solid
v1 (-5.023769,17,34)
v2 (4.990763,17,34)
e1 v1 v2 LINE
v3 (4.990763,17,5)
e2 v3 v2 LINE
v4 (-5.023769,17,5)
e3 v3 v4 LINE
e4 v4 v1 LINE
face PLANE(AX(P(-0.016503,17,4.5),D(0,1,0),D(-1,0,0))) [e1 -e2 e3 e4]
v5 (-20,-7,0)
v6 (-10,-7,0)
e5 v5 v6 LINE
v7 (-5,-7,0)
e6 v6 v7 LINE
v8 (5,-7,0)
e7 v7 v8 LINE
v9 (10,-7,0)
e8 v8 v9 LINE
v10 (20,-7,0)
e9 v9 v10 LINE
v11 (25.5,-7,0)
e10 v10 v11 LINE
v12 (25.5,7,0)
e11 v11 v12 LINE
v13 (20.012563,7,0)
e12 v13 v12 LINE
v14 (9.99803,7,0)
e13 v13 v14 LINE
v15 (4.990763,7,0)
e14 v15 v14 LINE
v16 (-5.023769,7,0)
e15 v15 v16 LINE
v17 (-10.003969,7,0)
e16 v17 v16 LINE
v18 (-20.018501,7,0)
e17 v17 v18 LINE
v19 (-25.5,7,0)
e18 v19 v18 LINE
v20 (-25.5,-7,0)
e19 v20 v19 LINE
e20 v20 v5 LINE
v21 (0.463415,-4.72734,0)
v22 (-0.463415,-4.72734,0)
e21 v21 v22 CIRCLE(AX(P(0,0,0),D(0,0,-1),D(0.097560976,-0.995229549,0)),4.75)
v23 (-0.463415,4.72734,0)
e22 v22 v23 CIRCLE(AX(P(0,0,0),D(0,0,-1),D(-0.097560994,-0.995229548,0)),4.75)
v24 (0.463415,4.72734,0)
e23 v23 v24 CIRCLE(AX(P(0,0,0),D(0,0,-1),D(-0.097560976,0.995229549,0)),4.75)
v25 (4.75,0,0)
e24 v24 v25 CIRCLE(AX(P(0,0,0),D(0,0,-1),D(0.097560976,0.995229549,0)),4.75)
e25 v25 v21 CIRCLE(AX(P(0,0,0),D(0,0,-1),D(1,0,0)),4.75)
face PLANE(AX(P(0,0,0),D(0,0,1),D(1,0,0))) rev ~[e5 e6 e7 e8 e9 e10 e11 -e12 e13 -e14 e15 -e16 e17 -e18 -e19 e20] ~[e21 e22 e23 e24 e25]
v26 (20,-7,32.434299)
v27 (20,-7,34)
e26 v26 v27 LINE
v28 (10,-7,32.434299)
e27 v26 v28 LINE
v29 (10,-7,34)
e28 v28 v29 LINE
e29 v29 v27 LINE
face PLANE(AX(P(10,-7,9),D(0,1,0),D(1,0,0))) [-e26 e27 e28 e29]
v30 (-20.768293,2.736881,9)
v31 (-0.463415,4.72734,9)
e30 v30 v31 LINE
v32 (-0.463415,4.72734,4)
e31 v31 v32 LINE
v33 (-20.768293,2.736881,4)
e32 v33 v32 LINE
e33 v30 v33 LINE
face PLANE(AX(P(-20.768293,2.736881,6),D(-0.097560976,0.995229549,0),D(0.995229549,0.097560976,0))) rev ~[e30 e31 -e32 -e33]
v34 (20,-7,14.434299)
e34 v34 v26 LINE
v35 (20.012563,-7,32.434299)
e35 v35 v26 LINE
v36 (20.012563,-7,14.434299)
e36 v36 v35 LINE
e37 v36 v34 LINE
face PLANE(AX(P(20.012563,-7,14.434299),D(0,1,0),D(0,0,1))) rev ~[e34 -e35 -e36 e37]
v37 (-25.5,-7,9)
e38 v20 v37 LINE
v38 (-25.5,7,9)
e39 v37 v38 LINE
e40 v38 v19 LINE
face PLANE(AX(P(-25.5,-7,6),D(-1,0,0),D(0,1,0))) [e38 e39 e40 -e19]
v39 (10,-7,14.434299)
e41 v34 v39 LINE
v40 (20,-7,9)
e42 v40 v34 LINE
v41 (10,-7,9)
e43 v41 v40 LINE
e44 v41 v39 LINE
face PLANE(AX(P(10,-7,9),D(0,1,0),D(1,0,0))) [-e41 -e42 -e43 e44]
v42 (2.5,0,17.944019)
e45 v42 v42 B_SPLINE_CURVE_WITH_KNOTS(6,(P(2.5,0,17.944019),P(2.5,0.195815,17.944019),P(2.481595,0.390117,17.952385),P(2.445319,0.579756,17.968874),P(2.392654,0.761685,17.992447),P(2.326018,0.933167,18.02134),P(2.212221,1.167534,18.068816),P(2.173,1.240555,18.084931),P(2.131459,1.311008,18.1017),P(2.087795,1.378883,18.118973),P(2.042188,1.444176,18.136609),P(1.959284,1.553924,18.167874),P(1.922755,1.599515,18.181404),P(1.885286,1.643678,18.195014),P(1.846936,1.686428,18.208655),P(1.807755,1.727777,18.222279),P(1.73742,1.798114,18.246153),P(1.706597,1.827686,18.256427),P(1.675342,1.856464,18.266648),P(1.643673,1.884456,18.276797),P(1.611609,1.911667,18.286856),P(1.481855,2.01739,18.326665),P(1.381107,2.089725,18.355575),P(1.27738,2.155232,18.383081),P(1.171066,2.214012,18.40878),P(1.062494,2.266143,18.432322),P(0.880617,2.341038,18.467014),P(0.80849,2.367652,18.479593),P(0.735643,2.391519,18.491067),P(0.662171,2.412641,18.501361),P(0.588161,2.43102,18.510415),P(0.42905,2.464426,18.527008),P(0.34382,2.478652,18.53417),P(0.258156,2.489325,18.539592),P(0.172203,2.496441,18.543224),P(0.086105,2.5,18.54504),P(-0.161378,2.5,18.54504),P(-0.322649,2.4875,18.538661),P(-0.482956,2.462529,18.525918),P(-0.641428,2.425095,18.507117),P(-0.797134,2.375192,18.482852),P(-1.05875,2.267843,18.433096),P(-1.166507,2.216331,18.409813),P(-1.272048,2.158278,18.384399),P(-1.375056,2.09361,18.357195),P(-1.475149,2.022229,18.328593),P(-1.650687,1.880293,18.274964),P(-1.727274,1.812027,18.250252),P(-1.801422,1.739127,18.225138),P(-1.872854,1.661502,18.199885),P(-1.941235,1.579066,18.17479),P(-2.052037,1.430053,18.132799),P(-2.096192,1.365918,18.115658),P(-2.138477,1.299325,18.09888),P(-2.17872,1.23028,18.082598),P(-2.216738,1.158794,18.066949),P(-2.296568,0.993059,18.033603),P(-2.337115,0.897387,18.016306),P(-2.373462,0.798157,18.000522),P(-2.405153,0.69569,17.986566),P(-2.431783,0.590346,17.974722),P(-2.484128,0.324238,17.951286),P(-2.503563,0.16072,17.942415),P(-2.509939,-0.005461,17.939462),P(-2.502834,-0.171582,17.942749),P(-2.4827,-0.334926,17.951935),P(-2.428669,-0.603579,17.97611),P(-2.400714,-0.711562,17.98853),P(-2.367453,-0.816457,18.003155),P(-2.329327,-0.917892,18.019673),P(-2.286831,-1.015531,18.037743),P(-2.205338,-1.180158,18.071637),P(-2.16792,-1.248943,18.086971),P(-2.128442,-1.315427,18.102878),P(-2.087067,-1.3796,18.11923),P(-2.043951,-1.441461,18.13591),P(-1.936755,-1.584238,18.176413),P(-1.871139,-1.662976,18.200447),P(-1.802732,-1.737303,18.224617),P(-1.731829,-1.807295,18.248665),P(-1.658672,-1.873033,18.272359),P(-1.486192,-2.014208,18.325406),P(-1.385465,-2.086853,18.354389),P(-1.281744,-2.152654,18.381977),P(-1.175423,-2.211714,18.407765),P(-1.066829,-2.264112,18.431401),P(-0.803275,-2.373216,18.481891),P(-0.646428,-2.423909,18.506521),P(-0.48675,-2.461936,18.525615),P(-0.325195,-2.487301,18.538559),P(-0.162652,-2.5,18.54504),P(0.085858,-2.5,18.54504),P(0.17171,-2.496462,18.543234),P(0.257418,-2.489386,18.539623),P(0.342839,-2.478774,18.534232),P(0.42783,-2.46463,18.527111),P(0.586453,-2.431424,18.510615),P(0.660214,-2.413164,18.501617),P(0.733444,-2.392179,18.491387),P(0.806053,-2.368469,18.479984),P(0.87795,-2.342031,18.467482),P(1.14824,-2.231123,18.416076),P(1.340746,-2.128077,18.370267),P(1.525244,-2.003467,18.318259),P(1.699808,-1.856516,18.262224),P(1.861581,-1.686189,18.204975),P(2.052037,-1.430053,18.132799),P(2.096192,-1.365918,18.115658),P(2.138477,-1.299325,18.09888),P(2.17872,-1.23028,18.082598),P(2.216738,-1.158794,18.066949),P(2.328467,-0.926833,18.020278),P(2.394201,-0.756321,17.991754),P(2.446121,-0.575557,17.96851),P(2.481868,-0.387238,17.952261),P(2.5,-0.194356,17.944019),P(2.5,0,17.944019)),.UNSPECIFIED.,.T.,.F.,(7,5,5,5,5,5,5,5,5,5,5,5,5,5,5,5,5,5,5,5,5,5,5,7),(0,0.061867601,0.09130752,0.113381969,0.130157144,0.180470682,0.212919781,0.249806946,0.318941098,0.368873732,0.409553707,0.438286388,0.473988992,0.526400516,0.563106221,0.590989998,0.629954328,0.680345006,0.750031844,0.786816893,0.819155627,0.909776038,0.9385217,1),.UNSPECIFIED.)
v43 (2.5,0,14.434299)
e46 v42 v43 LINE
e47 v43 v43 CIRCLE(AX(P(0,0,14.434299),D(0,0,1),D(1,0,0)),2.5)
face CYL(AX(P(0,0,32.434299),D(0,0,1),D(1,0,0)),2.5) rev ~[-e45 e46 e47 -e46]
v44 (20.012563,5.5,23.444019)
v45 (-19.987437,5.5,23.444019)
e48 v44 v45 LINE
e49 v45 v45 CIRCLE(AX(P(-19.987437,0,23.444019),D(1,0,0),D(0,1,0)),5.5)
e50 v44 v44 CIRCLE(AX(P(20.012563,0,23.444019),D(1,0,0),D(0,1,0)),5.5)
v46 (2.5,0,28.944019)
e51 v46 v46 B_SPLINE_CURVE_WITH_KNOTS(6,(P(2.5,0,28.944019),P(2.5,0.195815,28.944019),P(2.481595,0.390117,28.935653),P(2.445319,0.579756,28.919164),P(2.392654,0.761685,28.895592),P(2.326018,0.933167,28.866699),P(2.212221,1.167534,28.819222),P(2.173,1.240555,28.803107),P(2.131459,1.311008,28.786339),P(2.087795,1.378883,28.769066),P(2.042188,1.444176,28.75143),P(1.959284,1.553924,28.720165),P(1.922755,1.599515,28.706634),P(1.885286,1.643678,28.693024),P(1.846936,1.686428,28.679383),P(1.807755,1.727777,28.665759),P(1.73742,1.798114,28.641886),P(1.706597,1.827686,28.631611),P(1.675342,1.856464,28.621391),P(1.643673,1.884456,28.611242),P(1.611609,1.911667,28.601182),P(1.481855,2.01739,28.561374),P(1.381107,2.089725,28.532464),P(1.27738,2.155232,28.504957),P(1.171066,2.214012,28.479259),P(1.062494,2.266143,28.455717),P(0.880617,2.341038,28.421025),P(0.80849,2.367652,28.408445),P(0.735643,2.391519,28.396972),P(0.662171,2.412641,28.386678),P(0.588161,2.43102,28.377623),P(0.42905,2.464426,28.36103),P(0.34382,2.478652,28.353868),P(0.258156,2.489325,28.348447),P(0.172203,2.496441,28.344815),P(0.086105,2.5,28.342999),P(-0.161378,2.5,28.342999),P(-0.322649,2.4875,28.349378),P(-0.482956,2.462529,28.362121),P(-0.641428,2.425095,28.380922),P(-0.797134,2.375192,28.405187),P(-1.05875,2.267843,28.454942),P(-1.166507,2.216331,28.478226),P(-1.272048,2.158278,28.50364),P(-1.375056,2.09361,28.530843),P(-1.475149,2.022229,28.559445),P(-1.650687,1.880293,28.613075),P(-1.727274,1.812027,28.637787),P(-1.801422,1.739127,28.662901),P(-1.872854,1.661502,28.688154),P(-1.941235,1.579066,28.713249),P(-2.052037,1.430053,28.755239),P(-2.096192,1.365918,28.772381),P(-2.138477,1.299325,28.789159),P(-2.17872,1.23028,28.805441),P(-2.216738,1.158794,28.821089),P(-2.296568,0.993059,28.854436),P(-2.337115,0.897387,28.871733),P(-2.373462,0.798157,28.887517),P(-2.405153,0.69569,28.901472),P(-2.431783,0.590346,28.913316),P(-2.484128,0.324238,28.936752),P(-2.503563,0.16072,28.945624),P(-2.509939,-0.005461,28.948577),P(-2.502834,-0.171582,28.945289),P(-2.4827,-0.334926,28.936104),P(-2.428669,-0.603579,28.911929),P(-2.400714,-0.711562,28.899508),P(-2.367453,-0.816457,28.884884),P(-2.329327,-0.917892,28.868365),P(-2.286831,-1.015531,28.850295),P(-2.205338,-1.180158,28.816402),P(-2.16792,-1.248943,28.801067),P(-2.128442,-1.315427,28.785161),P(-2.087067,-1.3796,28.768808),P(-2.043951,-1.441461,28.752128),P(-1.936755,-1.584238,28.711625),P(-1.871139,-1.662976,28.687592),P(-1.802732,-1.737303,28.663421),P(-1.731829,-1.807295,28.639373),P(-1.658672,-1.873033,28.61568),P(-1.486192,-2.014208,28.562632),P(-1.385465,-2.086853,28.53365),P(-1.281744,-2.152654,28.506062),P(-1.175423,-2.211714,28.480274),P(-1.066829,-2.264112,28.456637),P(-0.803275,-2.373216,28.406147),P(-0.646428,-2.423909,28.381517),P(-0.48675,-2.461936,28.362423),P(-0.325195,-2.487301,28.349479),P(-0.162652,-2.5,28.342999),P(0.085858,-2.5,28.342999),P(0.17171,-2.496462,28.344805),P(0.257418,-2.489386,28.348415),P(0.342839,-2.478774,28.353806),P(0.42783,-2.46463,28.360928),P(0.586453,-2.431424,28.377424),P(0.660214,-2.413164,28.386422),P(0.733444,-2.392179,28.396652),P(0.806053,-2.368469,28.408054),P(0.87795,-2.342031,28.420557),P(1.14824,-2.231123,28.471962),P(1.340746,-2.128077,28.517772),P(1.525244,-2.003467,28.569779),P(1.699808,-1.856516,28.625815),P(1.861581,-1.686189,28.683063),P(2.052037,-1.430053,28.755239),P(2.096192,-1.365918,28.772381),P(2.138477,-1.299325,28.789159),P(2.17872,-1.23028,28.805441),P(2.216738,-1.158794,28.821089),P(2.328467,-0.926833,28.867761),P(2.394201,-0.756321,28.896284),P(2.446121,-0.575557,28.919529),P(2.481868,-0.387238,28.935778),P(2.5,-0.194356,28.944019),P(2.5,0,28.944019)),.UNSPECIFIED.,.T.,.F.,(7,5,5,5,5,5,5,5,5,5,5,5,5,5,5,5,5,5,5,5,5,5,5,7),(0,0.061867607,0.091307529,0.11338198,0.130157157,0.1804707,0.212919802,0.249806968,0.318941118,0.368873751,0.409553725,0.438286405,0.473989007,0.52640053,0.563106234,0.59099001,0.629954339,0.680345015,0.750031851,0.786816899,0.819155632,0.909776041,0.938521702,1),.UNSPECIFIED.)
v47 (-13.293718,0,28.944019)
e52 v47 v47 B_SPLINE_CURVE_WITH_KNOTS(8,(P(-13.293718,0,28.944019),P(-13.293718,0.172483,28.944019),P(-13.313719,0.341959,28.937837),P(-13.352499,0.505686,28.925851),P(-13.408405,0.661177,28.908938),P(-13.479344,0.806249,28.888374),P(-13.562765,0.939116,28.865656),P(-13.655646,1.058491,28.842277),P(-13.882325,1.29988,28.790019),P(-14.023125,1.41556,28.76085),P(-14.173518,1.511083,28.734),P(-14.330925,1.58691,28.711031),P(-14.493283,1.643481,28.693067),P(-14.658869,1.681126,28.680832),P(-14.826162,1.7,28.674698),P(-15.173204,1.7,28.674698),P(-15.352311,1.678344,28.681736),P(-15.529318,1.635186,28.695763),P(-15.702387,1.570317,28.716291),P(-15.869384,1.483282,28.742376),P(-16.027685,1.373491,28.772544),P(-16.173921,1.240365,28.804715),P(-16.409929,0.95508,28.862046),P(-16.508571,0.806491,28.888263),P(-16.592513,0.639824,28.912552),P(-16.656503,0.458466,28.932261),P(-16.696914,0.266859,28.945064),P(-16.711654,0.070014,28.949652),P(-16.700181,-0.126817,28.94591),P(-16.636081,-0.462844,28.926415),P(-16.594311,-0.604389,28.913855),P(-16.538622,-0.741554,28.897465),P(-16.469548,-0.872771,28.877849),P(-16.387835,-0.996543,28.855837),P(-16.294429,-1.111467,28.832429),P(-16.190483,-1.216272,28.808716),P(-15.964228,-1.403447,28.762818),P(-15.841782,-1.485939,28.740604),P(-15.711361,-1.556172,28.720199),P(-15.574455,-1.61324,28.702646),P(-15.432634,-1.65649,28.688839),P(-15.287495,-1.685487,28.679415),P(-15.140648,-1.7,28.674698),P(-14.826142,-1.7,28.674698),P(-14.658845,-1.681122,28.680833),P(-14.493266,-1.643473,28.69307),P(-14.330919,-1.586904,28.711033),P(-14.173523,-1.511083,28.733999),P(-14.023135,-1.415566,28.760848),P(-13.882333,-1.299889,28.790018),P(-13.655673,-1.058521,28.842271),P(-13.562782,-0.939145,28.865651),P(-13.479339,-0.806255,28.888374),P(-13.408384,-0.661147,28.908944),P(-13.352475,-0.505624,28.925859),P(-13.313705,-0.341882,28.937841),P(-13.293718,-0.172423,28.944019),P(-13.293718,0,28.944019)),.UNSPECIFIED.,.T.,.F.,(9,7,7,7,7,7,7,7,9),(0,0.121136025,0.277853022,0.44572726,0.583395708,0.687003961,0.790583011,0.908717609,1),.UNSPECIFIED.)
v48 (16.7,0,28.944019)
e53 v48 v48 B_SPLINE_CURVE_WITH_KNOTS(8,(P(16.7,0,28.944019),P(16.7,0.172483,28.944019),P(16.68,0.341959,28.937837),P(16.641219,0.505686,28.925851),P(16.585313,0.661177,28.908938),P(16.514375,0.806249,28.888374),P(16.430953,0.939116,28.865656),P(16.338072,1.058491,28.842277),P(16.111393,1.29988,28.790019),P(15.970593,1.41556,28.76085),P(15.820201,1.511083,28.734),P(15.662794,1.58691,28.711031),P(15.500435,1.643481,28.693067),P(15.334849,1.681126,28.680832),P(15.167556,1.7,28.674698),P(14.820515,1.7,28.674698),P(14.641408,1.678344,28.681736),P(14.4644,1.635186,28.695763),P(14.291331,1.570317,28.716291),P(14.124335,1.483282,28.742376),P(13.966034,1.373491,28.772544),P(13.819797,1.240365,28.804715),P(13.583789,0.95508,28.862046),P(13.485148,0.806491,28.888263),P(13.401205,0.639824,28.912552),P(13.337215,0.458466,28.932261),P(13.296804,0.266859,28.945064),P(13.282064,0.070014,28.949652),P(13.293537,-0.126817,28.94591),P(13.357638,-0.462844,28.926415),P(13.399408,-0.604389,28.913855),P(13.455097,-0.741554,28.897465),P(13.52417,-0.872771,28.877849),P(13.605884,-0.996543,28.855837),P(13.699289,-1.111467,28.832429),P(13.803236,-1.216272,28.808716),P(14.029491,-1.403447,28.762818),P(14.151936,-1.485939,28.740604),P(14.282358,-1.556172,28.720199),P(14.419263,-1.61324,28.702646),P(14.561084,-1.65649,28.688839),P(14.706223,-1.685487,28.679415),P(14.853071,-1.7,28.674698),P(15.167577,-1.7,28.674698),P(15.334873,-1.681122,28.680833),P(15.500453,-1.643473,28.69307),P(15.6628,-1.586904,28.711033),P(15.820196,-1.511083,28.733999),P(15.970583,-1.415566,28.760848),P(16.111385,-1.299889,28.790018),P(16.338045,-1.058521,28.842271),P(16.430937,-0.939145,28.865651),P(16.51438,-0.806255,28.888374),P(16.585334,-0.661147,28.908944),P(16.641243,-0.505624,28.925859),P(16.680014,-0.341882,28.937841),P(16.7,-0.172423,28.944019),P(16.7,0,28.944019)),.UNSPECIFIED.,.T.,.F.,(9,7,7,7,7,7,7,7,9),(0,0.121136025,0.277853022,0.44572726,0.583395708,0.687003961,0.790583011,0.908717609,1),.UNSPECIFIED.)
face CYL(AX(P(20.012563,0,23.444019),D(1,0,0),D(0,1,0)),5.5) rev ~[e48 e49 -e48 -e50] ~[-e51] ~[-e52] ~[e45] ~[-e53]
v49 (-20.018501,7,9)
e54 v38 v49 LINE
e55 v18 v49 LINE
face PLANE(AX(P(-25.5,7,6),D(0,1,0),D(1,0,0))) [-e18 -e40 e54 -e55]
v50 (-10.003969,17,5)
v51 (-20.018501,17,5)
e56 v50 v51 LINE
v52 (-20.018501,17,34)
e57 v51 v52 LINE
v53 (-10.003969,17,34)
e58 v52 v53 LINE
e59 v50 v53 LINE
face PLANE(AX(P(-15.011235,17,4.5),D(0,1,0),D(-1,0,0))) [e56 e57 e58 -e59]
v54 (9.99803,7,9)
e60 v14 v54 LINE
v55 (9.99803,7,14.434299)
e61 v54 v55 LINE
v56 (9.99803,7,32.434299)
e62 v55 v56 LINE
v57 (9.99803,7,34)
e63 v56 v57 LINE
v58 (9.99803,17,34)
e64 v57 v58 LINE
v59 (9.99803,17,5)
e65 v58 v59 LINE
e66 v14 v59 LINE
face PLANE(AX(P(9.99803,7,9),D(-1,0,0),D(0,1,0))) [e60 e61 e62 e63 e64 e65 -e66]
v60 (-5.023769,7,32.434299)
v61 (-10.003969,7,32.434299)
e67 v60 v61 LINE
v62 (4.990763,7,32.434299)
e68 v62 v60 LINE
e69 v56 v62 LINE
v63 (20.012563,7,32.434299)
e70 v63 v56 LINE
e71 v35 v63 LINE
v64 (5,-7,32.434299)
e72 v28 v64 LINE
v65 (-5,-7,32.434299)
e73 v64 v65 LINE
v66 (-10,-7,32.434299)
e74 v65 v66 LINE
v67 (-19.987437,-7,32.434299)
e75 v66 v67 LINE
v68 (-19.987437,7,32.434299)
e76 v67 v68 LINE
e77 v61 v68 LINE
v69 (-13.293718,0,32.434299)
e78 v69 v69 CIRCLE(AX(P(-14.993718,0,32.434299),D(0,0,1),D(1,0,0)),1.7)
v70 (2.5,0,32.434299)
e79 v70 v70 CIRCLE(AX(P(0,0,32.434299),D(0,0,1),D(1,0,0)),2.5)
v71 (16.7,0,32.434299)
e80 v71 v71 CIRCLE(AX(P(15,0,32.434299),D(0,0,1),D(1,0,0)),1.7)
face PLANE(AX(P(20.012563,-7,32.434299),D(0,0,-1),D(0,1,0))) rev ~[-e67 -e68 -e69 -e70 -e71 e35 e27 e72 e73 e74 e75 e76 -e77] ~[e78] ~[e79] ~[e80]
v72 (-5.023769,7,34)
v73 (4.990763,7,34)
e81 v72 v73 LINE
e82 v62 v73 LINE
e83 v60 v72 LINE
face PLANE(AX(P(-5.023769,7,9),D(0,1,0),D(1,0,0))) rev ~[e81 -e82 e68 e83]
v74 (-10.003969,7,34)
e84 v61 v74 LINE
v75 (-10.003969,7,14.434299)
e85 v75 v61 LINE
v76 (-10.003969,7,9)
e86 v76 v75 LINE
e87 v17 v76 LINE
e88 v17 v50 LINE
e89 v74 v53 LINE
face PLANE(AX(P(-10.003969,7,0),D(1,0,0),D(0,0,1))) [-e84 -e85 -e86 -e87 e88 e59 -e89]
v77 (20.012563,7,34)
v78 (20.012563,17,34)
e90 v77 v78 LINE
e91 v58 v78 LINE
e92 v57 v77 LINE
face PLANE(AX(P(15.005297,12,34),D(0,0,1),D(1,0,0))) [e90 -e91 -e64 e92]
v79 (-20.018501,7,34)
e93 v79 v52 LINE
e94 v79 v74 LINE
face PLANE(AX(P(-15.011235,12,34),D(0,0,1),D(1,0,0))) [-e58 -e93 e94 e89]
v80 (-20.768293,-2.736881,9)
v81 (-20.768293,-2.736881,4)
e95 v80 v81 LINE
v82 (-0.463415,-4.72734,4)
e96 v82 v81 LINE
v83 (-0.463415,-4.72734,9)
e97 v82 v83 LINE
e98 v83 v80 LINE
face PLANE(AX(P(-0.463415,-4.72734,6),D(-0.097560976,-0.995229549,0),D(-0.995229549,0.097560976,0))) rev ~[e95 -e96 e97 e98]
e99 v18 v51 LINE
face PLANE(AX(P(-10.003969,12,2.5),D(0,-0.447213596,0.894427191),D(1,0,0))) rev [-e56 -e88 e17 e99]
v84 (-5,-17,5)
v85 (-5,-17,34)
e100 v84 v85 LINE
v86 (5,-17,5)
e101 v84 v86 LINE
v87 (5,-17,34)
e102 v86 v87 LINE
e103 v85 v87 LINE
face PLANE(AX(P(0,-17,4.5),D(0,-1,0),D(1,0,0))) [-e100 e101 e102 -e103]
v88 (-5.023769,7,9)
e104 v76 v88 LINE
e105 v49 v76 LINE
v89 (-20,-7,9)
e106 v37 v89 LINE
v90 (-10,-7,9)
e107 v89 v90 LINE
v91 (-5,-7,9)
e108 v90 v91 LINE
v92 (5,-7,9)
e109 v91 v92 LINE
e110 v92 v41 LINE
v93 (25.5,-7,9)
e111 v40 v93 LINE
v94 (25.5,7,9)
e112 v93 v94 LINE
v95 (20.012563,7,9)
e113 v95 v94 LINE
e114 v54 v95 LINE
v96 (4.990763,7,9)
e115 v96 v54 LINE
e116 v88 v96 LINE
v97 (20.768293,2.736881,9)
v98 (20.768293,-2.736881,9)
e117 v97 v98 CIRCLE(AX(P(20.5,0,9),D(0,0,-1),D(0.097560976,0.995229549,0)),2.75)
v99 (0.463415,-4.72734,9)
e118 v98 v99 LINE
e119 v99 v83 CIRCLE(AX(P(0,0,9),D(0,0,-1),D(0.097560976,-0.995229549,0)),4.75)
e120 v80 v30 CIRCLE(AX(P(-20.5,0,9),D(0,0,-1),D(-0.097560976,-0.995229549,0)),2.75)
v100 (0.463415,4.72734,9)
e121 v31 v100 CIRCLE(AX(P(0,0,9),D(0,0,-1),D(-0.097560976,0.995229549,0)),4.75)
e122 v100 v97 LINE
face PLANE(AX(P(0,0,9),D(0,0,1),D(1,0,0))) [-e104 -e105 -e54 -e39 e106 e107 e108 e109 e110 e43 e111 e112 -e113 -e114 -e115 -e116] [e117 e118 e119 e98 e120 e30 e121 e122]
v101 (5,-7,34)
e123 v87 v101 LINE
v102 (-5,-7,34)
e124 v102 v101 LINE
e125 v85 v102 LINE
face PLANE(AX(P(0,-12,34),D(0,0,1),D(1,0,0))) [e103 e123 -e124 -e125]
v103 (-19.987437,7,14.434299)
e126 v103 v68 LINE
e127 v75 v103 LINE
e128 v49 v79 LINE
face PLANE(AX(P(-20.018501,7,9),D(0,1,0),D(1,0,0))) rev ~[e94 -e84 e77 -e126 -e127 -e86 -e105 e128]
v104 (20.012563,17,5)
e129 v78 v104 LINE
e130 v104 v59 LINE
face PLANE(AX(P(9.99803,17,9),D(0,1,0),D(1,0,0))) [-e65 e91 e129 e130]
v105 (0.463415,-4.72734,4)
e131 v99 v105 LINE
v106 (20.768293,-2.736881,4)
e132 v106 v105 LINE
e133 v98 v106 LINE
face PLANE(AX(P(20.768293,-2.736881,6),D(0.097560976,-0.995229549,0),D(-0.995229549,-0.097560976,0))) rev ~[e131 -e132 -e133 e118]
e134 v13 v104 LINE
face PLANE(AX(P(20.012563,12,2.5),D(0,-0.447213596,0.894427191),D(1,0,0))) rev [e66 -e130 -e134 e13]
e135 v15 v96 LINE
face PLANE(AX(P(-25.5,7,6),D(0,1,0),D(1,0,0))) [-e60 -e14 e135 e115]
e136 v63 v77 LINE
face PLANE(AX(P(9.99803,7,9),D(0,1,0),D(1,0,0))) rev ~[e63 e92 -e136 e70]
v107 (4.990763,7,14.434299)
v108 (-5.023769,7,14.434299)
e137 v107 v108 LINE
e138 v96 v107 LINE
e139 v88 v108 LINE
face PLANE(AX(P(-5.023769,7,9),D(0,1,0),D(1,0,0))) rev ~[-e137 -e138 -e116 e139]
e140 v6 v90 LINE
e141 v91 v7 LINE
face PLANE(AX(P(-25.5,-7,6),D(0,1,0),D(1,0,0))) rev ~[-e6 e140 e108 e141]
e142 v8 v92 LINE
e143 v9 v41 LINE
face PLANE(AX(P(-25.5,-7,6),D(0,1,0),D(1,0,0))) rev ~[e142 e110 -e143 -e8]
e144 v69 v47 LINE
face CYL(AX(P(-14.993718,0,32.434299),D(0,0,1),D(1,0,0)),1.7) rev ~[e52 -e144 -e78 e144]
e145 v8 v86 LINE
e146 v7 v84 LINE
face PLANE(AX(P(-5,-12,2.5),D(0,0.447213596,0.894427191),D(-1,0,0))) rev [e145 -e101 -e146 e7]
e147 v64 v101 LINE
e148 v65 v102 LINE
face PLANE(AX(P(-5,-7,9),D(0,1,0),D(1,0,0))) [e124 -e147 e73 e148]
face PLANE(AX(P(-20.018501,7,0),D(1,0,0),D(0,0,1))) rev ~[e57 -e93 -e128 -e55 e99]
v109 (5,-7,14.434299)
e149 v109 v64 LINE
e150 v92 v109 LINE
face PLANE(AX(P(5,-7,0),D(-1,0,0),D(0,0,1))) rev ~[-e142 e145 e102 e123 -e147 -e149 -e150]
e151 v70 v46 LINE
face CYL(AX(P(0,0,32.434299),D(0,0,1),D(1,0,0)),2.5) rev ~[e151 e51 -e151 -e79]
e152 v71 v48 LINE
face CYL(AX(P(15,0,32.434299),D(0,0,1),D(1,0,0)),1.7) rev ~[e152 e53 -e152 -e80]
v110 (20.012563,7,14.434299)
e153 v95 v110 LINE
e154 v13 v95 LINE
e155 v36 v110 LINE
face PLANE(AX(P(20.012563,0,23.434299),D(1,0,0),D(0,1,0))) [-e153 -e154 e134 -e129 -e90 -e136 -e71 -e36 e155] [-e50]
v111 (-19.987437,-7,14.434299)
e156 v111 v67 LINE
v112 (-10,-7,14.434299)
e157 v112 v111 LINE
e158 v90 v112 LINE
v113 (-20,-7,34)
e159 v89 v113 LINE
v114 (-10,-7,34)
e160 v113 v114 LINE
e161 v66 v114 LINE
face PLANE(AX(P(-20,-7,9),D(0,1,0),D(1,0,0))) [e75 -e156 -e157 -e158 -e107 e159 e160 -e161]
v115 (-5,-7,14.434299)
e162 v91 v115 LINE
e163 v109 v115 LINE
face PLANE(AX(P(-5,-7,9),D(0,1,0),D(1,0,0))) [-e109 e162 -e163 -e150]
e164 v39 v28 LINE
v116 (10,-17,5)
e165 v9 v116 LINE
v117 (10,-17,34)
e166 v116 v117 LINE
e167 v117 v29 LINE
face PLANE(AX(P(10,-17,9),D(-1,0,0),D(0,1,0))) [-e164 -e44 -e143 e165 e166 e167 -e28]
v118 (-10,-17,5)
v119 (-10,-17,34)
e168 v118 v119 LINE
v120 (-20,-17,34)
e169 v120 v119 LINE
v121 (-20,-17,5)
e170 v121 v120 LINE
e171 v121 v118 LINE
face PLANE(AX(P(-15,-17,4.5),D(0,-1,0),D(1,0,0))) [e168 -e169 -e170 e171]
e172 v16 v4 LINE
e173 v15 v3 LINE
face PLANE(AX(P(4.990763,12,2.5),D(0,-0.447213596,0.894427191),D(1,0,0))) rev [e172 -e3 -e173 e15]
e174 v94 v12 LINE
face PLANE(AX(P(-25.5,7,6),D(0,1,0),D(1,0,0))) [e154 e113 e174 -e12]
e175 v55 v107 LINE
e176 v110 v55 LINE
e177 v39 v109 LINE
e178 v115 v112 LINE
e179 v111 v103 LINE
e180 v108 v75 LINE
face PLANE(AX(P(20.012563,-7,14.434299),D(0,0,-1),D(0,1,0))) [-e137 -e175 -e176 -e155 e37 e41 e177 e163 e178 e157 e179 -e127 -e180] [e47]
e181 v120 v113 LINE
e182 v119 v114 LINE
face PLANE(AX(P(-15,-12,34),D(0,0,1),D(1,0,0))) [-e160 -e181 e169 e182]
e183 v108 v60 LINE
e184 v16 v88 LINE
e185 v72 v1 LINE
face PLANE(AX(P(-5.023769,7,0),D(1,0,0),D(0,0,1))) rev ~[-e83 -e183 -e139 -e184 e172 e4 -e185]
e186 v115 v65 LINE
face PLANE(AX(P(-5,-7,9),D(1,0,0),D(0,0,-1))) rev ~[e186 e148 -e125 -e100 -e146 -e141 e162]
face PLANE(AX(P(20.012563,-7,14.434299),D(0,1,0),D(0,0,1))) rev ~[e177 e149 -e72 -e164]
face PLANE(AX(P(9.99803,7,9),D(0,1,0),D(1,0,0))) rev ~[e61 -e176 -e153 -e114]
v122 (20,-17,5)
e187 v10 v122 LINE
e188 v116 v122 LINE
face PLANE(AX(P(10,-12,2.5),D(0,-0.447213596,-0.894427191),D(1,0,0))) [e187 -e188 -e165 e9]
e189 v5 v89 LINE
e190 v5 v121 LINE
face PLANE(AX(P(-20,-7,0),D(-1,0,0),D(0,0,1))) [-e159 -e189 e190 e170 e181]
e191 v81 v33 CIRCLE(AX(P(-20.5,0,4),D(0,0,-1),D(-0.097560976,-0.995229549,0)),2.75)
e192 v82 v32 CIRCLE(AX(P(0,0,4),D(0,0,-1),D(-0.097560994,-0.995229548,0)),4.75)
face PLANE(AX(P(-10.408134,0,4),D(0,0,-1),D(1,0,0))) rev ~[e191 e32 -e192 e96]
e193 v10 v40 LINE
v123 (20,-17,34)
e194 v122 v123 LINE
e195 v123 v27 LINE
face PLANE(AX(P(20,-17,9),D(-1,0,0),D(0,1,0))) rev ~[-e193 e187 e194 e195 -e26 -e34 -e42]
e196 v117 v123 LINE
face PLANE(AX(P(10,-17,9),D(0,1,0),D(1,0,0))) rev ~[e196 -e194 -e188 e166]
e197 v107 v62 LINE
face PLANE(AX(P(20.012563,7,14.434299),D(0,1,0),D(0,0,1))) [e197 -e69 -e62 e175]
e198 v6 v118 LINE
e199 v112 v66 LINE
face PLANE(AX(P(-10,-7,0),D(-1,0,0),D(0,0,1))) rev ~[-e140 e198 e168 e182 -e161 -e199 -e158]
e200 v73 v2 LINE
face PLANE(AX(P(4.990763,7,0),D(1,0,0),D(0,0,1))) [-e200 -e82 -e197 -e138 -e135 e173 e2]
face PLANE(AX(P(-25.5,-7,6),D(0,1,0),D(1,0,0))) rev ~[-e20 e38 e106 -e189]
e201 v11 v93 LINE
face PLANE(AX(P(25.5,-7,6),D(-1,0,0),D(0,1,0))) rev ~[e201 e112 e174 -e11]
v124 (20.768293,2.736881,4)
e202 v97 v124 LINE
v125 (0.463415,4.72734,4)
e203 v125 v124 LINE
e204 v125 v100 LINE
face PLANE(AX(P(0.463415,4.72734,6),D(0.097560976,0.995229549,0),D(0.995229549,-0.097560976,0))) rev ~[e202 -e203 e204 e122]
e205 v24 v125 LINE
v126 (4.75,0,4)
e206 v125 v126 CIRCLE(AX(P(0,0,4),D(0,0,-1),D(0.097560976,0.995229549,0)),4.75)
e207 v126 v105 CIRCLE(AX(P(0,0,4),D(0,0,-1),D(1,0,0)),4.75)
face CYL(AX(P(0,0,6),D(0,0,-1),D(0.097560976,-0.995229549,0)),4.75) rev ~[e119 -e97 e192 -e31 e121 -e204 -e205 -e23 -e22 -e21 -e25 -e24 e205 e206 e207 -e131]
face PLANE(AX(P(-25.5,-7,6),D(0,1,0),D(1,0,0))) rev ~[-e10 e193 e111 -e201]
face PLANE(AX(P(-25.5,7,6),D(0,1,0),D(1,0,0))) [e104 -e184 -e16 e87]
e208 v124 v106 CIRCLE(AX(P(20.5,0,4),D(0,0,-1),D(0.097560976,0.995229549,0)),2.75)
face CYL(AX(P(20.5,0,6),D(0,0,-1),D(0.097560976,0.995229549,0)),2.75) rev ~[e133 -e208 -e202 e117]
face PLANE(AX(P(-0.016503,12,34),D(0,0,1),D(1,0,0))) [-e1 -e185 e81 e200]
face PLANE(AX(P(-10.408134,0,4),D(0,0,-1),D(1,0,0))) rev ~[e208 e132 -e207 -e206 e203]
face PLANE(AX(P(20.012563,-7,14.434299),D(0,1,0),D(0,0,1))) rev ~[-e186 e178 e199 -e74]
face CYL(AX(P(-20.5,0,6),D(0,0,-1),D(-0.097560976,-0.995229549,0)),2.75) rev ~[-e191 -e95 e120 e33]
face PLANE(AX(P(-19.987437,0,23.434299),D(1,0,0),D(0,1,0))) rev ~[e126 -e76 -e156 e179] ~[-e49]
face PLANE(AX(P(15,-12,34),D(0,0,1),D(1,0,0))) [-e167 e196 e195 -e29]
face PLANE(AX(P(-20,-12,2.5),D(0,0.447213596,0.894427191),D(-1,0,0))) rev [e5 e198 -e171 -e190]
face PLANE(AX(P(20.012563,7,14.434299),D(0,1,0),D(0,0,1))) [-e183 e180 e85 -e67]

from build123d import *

# Parameters (mm, degrees)
F0_W      = 51
F0_H      = 14
F1_DEPTH  = 6
F2_R      = 2.5
F3_DEPTH  = 4
F6_DEPTH  = 2
F7_DEPTH  = 3
F8_W      = 10
F8_H      = 9
F9_DEPTH  = 10
F10_W     = 10
F10_H     = 10
F11_DEPTH = 25
F12_W     = 10.0145330653
F12_H     = 9
F12_W_2   = 10.0145321339
F13_DEPTH = 10
F14_W     = 10.0145330653
F14_H     = 10
F14_W_2   = 10.0145321339
F15_DEPTH = 25
F16_W     = 14
F16_H     = 18
F16_R     = 5.5
F17_DEPTH = 40
F18_R     = 1.7
F19_DEPTH = 5
F20_R     = 2.5
F21_DEPTH = 20
F22_SIZE2 = 5
F22_SIZE  = 10


with BuildPart() as f1:
    # F0 (on Top) → F1 (new body)
    with BuildSketch(Plane.XY):
        Rectangle(F0_W, F0_H)
    extrude(amount=F1_DEPTH)

    # F2 (on face) → F3 (cut)
    with BuildSketch(Plane(origin=(0, 0, 0), x_dir=(1, 0, 0), z_dir=(0, 0, -1))):
        with BuildLine():
            ThreePointArc((0.4634146341, 4.7273403597), (-4.38e-08, 4.75), (-0.4634147213, 4.7273403512))
            ThreePointArc((-0.4634147213, 4.7273403512), (-4.75, -4.38e-08), (-0.4634146341, -4.7273403597))
            ThreePointArc((-0.4634146341, -4.7273403597), (0, -4.75), (0.4634146341, -4.7273403597))
            ThreePointArc((0.4634146341, -4.7273403597), (3.5187866881, -3.1907115576), (4.75, 0))
            ThreePointArc((4.75, 0), (3.5187866881, 3.1907115576), (0.4634146341, 4.7273403597))
        make_face()
        Circle(F2_R, mode=Mode.SUBTRACT)
        Circle(F2_R)
    extrude(amount=-F3_DEPTH, mode=Mode.SUBTRACT)

    # F5 (on offset) → F6 (cut)
    with BuildSketch(Plane(origin=(0, 0, 4), x_dir=(1, 0, 0), z_dir=(0, 0, -1))):
        with BuildLine():
            Line((-0.4634146341, 4.7273403597), (-20.7682926829, 2.7368812609))
            ThreePointArc((-20.7682926829, 2.7368812609), (-23.25, 0), (-20.7682926829, -2.7368812609))
            Line((-20.7682926829, -2.7368812609), (-0.4634146341, -4.7273403597))
            ThreePointArc((-0.4634146341, -4.7273403597), (-4.75, 0), (-0.4634146341, 4.7273403597))
        make_face()
        with BuildLine():
            ThreePointArc((0.4634146341, 4.7273403597), (0, 4.75), (-0.4634146341, 4.7273403597))
            ThreePointArc((-0.4634146341, 4.7273403597), (-4.75, 0), (-0.4634146341, -4.7273403597))
            ThreePointArc((-0.4634146341, -4.7273403597), (0, -4.75), (0.4634146341, -4.7273403597))
            ThreePointArc((0.4634146341, -4.7273403597), (3.5187866881, -3.1907115576), (4.75, 0))
            ThreePointArc((4.75, 0), (3.5187866881, 3.1907115576), (0.4634146341, 4.7273403597))
        make_face()
        with BuildLine():
            Line((20.7682926829, 2.7368812609), (0.4634146341, 4.7273403597))
            ThreePointArc((0.4634146341, 4.7273403597), (3.5187866881, 3.1907115576), (4.75, 0))
            ThreePointArc((4.75, 0), (3.5187866881, -3.1907115576), (0.4634146341, -4.7273403597))
            Line((0.4634146341, -4.7273403597), (20.7682926829, -2.7368812609))
            ThreePointArc((20.7682926829, -2.7368812609), (23.25, 0), (20.7682926829, 2.7368812609))
        make_face()
    extrude(amount=-F6_DEPTH, mode=Mode.SUBTRACT)

    # F7 (add): a face of the model
    f7_faces = [f1.faces().sort_by_distance(p)[0] for p in [
        (0, 6.4711332871, 6),
    ]]
    extrude(f7_faces, amount=F7_DEPTH)

    # F8 (on face) → F9 (join)
    with BuildSketch(Plane.XZ.offset(7)):
        with Locations((15, 4.5)):
            Rectangle(F8_W, F8_H)
        with Locations((-15, 4.5)):
            Rectangle(F8_W, F8_H)
        Polygon((0, 0), (5, 0), (5, 9), (-5, 9), (-5, 0), align=None)
    extrude(amount=F9_DEPTH)

    # F10 (on face) → F11 (join)
    with BuildSketch(Plane.XY.offset(9)):
        with Locations((15, -12)):
            Rectangle(F10_W, F10_H)
        with Locations((0, -12)):
            Rectangle(F10_W, F10_H)
        with Locations((-15, -12)):
            Rectangle(F10_W, F10_H)
    extrude(amount=F11_DEPTH)

    # F12 (on face) → F13 (join)
    with BuildSketch(Plane(origin=(0, 7, 0), x_dir=(-1, 0, 0), z_dir=(0, 1, 0))):
        with Locations((-15.0052965619, 4.5)):
            Rectangle(F12_W, F12_H)
        with Locations((0.0165025704, 4.5)):
            Rectangle(F12_W_2, F12_H)
        with Locations((15.0112351403, 4.5)):
            Rectangle(F12_W_2, F12_H)
    extrude(amount=F13_DEPTH)

    # F14 (on face) → F15 (join)
    with BuildSketch(Plane.XY.offset(9)):
        with Locations((15.0052965619, 12)):
            Rectangle(F14_W, F14_H)
        with Locations((-0.0165025704, 12)):
            Rectangle(F14_W_2, F14_H)
        with Locations((-15.0112351403, 12)):
            Rectangle(F14_W_2, F14_H)
    extrude(amount=F15_DEPTH)

    # F16 (on face) → F17 (join)
    with BuildSketch(Plane.YZ.offset(20.0125630945)):
        with Locations((0, 23.4342994317)):
            Rectangle(F16_W, F16_H)
        with Locations((0, 23.444019258)):
            Circle(F16_R, mode=Mode.SUBTRACT)
    extrude(amount=-F17_DEPTH)

    # F18 (on face) → F19 (cut)
    with BuildSketch(Plane.XY.offset(32.4342994317)):
        with Locations((15, 0)):
            Circle(F18_R)
        with Locations((-14.9937184528, 0)):
            Circle(F18_R)
    extrude(amount=-F19_DEPTH, mode=Mode.SUBTRACT)

    # F20 (on face) → F21 (cut)
    with BuildSketch(Plane.XY.offset(32.4342994317)):
        Circle(F20_R)
    extrude(amount=-F21_DEPTH, mode=Mode.SUBTRACT)

    # F22
    f22_edges = [f1.edges().sort_by_distance(p)[0] for p in [
        (15.005297, 17, 0),
        (-0.016503, 17, 0),
        (-15.011235, 17, 0),
        (15, -17, 0),
        (0, -17, 0),
        (-15, -17, 0),
    ]]
    f22_side = f1.faces().sort_by_distance((22.756282, 6.387056, 0))[0]
    chamfer(f22_edges, length=F22_SIZE, length2=F22_SIZE2, reference=f22_side)


solid = f1.part
